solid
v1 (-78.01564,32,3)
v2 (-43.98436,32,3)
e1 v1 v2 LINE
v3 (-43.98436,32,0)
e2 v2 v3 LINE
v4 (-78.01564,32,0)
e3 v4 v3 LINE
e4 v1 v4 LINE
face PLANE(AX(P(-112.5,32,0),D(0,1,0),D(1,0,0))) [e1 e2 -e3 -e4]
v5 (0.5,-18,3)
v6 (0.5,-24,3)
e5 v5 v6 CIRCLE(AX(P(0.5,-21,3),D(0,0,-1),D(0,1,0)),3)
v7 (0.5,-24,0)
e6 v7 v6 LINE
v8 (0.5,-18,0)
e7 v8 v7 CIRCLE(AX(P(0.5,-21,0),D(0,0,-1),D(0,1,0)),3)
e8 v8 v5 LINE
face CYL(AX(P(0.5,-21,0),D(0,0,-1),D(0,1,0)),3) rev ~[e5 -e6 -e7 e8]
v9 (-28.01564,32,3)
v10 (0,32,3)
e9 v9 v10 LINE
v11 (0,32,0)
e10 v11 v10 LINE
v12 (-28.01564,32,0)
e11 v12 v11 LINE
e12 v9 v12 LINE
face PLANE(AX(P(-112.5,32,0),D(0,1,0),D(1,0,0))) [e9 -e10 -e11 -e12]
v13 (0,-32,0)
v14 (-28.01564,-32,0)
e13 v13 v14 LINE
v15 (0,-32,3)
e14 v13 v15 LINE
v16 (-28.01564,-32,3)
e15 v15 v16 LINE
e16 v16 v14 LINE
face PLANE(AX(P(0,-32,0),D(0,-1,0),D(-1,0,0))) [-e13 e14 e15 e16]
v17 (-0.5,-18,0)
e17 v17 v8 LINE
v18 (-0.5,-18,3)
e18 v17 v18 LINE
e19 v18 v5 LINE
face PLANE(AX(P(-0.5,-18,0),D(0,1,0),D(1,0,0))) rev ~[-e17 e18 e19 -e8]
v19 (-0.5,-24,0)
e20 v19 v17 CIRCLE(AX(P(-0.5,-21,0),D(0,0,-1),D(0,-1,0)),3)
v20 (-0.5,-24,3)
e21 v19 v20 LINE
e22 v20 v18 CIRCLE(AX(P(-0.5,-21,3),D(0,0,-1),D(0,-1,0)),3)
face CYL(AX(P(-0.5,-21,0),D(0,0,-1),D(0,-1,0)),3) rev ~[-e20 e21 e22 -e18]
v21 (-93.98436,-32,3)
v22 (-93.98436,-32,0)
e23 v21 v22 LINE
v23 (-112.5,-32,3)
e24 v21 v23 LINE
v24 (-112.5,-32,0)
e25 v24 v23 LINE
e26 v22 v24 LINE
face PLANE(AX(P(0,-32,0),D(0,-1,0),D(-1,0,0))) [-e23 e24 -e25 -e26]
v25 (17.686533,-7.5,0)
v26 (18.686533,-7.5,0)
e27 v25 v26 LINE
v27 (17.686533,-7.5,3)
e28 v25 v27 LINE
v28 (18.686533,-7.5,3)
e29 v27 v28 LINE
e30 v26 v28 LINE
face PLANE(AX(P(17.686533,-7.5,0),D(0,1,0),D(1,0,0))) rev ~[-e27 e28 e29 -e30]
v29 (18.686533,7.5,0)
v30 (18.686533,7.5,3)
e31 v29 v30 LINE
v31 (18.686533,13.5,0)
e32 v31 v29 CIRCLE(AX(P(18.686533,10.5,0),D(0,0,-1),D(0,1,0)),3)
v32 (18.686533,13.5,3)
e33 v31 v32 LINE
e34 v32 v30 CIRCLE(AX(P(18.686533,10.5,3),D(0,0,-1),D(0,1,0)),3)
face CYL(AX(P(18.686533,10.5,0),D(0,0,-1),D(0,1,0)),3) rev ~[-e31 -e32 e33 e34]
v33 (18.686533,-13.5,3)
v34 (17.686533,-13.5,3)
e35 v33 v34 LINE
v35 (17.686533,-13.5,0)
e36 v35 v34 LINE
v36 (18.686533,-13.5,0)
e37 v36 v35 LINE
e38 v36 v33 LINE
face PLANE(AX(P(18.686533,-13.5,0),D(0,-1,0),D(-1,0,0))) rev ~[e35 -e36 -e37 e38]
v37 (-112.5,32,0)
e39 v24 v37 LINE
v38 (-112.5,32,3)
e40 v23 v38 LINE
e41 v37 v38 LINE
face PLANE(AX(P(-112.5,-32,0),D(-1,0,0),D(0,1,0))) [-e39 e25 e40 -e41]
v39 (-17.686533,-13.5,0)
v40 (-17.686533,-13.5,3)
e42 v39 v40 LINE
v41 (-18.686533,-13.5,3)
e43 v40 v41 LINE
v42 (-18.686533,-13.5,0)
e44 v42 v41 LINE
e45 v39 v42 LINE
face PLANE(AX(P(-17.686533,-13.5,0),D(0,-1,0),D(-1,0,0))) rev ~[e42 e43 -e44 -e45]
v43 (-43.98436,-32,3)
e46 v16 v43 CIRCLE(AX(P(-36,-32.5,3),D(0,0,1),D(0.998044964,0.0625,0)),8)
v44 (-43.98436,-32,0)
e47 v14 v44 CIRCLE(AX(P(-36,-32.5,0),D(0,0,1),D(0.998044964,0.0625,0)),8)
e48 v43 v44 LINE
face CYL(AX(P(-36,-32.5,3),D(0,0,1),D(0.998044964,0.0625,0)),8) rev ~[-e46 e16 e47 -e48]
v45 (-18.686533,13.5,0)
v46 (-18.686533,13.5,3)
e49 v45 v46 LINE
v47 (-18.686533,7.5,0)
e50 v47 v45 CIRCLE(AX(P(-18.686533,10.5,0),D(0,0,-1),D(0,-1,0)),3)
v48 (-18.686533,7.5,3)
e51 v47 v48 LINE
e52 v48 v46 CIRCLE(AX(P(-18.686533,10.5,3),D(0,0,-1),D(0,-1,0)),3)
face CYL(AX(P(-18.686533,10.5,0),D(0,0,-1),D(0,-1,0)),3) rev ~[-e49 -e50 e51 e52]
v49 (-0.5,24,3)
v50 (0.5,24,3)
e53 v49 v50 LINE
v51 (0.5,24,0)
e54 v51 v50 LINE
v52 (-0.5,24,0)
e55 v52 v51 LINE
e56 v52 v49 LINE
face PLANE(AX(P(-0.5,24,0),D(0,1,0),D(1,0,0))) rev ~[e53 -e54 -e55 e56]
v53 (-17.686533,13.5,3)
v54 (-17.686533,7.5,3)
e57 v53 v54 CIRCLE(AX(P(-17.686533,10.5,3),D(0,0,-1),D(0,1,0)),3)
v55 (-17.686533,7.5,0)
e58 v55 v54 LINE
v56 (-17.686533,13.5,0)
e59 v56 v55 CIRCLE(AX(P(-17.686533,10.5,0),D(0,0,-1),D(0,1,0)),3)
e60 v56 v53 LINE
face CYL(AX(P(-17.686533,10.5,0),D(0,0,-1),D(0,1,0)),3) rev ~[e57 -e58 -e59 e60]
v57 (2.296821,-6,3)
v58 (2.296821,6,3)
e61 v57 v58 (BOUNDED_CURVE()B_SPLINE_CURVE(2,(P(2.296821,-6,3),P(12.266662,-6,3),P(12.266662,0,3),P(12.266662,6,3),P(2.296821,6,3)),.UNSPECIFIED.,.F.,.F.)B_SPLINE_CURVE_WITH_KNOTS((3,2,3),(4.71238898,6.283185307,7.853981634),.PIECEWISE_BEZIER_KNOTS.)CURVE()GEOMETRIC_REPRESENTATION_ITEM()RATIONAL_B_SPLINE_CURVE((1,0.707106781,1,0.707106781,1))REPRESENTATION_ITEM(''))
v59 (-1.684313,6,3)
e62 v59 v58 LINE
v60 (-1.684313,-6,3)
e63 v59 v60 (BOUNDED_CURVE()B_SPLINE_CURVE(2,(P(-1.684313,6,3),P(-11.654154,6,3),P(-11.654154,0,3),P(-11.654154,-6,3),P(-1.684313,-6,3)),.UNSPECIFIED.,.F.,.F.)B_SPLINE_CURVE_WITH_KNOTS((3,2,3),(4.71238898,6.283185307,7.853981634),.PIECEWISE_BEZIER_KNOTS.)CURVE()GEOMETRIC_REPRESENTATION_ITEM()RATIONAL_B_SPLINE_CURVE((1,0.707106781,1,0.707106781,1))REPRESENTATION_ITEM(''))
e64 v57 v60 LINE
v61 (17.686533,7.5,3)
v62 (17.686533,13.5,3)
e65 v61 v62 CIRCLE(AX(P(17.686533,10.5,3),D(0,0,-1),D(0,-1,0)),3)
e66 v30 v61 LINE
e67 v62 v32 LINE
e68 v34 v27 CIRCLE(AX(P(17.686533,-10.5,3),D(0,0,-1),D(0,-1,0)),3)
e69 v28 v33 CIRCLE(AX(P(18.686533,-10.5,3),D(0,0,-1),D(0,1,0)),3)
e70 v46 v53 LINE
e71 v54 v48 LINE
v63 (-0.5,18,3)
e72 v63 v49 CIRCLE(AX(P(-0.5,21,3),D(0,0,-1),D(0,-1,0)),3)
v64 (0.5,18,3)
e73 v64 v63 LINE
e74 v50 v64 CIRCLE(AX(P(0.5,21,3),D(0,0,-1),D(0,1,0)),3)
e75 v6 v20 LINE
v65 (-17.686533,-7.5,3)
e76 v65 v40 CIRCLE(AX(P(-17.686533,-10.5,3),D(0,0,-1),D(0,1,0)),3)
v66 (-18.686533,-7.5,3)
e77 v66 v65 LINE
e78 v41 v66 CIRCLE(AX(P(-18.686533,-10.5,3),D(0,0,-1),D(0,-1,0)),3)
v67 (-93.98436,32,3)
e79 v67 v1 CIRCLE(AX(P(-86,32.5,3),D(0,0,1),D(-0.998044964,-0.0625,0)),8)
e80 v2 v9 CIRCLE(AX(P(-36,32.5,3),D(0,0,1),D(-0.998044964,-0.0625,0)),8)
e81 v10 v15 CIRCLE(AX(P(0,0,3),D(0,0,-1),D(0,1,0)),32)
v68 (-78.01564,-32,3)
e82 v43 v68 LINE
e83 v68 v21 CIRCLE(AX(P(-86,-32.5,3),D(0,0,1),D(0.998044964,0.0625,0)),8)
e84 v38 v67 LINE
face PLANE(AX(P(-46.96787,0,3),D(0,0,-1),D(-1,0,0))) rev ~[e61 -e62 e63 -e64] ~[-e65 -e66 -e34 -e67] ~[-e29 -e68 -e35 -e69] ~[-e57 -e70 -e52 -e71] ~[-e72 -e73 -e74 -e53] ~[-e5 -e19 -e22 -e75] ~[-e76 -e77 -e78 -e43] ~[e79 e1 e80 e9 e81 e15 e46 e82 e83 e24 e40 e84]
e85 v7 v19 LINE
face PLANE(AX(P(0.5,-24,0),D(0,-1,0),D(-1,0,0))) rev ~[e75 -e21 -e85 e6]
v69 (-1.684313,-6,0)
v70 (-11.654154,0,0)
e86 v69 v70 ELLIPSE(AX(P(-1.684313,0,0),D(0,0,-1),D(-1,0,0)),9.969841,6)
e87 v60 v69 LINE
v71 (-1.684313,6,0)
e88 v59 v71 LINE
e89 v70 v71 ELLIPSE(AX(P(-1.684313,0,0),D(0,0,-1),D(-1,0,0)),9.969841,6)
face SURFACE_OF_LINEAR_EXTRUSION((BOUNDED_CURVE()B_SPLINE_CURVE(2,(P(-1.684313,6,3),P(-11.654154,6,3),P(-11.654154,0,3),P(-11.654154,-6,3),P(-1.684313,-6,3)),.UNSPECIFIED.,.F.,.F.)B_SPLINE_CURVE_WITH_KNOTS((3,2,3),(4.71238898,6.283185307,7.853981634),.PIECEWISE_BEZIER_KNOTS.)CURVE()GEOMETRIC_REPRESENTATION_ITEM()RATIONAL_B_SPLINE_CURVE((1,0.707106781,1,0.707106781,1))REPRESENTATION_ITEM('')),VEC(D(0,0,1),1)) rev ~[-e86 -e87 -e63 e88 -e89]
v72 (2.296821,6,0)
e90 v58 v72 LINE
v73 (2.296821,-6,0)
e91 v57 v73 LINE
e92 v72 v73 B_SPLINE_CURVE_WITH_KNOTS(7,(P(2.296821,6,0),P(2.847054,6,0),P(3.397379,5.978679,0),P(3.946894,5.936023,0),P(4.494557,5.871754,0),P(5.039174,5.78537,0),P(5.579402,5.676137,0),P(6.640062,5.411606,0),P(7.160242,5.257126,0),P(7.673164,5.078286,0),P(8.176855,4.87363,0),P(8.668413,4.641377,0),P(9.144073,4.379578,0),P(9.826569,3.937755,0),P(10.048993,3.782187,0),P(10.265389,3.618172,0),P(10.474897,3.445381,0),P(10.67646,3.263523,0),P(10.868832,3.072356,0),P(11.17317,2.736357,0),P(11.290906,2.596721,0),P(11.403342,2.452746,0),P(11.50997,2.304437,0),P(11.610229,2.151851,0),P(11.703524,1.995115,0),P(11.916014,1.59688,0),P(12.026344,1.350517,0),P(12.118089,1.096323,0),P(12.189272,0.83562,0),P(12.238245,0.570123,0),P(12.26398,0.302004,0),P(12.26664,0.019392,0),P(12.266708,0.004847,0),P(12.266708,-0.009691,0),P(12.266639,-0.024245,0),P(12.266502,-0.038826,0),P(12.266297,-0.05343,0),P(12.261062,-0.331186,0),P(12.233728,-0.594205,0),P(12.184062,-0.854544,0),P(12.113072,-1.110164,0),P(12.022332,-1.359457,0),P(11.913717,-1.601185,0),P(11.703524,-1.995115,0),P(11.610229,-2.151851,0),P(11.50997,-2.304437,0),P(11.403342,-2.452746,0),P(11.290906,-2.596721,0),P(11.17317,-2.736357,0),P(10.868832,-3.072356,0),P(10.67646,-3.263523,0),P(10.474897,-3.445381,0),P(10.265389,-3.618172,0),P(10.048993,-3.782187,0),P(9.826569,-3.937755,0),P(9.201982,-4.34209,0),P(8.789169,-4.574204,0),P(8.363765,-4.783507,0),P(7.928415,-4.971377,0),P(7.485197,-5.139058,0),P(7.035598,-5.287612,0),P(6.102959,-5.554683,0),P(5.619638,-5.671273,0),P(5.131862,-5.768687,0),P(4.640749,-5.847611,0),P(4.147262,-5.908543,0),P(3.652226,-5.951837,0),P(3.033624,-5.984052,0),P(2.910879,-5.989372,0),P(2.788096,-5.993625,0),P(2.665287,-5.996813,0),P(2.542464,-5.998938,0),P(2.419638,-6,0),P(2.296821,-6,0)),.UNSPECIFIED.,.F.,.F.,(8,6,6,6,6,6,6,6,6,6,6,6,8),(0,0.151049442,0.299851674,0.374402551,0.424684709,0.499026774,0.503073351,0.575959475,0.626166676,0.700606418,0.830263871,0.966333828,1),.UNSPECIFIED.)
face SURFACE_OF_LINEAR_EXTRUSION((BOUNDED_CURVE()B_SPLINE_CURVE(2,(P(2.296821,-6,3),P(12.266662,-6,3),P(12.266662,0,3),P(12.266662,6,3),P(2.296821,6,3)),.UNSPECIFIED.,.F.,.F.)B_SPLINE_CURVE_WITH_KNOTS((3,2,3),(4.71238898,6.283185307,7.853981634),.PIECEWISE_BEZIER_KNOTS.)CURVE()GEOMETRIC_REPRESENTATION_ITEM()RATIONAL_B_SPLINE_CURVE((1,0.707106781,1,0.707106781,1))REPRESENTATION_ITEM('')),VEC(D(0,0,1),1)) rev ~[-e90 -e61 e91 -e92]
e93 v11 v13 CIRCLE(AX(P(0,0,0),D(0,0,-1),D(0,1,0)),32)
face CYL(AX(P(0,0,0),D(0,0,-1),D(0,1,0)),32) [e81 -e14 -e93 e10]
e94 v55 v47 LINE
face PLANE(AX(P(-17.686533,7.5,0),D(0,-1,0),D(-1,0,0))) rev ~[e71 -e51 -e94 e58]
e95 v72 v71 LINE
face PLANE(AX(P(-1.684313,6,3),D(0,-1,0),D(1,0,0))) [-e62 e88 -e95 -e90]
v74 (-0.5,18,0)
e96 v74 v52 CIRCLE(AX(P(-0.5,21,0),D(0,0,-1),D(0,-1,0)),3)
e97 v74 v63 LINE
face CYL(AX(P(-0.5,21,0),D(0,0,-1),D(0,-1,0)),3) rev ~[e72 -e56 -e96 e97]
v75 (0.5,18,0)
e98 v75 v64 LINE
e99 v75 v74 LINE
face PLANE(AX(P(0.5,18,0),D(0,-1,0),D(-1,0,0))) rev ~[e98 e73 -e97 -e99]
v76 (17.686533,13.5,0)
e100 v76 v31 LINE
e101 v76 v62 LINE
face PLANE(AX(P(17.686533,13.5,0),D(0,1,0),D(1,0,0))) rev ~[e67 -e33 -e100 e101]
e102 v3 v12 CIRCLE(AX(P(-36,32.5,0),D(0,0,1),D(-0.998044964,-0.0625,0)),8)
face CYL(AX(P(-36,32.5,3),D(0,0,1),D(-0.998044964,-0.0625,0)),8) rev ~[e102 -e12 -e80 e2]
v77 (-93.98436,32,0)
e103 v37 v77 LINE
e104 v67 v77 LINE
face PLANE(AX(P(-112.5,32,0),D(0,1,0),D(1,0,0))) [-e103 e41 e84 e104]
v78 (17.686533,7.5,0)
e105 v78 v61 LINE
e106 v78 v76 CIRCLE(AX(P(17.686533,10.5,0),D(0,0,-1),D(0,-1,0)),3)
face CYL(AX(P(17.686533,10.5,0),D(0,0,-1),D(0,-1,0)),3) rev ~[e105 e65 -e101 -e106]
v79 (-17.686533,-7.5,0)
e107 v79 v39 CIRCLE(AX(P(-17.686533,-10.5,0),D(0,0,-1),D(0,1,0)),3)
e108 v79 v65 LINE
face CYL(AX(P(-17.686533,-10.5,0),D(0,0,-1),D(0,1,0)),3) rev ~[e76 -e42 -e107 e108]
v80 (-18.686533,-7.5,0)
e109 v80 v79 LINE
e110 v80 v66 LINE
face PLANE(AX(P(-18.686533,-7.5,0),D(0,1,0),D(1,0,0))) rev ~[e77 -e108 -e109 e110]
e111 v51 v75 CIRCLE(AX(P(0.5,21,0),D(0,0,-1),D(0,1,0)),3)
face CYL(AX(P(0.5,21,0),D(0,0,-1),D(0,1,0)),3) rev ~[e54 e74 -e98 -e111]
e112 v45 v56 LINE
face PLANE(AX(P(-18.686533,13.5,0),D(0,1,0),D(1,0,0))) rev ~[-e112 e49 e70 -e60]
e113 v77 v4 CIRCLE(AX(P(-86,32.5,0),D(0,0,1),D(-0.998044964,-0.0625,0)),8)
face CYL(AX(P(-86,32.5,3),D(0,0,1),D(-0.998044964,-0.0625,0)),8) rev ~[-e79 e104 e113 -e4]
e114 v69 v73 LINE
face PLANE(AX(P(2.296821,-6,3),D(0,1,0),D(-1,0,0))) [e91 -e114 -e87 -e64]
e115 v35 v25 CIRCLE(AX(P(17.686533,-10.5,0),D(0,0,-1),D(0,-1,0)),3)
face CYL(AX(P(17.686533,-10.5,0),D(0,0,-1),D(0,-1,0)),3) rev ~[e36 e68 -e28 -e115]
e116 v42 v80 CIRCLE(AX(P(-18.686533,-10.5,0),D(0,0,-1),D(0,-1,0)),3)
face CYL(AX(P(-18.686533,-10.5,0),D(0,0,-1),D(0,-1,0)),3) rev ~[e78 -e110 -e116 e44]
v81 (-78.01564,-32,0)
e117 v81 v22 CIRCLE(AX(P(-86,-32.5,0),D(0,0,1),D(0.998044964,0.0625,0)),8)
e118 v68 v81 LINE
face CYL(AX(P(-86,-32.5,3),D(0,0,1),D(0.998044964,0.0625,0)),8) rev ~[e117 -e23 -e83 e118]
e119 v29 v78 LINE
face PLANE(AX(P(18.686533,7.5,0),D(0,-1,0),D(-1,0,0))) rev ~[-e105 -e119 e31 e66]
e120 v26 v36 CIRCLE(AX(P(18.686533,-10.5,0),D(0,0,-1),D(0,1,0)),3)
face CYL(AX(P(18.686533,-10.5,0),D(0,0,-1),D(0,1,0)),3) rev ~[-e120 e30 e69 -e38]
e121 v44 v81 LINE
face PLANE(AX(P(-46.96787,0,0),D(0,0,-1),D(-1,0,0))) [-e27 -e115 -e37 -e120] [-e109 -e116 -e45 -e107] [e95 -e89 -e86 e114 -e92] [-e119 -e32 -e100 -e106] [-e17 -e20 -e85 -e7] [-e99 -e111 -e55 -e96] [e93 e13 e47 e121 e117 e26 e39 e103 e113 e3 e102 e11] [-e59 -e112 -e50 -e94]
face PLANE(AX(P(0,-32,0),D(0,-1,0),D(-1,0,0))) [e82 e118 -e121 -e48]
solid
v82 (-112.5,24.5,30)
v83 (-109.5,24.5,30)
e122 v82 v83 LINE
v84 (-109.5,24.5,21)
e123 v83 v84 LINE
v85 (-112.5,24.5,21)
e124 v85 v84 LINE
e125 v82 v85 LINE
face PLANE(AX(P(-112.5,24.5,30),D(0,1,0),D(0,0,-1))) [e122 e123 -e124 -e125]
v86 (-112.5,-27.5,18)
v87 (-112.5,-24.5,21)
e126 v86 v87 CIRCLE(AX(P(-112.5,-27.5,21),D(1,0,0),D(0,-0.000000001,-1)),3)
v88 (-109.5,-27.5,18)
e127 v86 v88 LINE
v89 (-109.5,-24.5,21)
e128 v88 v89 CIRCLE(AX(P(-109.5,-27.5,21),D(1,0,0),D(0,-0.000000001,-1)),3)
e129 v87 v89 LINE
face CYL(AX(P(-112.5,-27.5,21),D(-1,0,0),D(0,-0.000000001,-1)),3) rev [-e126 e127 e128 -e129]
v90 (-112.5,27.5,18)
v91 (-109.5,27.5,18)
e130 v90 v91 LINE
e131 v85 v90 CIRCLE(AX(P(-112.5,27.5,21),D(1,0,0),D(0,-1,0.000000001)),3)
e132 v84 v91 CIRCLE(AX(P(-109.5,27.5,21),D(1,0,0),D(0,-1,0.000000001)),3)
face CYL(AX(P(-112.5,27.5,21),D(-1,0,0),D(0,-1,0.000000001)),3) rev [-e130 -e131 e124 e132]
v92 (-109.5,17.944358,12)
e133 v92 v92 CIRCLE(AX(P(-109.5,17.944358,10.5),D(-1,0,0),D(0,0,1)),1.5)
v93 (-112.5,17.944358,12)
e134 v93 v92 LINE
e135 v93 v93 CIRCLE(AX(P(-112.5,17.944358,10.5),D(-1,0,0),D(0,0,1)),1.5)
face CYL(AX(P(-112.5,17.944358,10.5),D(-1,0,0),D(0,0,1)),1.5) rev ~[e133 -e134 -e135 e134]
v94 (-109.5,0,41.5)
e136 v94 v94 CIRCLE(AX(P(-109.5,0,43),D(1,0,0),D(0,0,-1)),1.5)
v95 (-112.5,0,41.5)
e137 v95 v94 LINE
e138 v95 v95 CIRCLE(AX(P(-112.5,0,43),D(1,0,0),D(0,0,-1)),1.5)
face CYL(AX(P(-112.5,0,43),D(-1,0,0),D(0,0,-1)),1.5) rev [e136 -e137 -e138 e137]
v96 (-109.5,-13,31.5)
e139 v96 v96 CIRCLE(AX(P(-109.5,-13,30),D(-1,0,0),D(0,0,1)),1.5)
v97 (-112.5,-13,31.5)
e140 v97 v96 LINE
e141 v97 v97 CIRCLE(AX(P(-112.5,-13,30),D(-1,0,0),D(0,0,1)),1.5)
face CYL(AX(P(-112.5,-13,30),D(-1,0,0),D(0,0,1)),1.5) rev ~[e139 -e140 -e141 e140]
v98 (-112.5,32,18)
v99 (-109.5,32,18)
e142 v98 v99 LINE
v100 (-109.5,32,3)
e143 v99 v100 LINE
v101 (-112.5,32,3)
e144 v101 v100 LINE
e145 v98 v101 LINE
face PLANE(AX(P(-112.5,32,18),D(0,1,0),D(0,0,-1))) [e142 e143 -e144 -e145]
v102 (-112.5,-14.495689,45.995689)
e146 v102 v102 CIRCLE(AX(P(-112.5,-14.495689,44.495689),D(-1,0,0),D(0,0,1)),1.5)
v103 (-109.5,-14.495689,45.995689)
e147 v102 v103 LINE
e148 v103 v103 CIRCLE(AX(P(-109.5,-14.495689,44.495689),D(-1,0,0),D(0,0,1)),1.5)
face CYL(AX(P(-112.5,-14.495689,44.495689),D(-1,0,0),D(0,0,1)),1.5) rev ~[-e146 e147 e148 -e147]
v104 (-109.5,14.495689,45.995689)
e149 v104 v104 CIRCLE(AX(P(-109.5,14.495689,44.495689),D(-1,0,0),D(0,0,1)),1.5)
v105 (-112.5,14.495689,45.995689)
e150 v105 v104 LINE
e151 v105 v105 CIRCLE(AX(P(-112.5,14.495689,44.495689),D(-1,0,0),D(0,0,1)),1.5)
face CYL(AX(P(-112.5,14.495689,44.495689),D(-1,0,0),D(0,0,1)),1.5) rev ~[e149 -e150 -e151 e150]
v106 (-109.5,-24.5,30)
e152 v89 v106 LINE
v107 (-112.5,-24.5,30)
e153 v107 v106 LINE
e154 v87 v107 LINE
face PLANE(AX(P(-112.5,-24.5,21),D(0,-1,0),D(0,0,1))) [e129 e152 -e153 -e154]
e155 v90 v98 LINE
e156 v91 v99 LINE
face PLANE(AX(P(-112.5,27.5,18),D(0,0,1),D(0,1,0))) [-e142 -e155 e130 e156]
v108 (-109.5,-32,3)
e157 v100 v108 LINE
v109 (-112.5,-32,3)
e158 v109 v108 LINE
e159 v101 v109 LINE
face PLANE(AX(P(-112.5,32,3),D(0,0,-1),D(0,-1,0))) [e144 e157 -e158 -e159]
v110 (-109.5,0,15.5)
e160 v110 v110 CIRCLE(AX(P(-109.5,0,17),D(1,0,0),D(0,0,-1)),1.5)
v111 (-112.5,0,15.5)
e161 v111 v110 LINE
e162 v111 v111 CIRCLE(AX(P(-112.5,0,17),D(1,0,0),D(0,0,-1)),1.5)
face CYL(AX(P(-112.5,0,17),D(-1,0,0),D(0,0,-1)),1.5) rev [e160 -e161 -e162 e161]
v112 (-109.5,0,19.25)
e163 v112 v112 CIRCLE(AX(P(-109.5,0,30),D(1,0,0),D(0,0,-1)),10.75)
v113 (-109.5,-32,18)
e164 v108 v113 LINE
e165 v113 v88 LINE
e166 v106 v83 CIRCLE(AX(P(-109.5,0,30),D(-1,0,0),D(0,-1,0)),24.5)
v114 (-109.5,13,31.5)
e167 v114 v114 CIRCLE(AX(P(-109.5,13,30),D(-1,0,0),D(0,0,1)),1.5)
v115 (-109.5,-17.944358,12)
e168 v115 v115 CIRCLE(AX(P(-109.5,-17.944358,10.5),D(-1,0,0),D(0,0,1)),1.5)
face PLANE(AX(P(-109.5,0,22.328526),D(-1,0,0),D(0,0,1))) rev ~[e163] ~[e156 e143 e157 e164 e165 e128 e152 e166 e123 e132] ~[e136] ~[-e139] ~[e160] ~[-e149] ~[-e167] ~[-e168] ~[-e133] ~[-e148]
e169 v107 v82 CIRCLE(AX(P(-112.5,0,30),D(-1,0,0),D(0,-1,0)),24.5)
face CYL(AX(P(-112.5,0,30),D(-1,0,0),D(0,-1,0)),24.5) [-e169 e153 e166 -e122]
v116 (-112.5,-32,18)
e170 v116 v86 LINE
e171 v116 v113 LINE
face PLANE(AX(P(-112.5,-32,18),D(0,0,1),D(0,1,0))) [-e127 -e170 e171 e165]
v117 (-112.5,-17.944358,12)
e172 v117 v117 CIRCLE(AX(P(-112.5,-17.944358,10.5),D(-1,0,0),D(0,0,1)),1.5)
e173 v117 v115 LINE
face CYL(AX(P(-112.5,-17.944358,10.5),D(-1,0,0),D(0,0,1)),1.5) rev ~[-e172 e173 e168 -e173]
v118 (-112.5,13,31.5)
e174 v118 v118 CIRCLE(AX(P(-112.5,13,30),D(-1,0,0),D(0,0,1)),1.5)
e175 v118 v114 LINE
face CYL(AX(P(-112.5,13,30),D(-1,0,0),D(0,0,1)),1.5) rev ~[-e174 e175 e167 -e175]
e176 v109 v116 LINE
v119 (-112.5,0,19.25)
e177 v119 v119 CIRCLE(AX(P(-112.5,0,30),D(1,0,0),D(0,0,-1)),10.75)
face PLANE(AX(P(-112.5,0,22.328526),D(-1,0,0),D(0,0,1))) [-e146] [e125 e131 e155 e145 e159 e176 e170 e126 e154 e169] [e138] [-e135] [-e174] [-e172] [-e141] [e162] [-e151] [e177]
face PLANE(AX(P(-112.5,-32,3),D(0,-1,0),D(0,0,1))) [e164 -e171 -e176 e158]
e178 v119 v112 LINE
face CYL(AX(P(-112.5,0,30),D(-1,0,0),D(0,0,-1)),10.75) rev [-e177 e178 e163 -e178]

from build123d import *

# Parameters (mm, degrees)
BOSS_EXTRUDE1_DEPTH = 3
SKETCH2_R           = 1.5
BOSS_EXTRUDE2_DEPTH = 3
SKETCH3_R           = 6
CUT_EXTRUDE1_DEPTH  = 150.495916109
CUT_EXTRUDE2_DEPTH  = 128.79866979
CUT_EXTRUDE4_DEPTH  = 3


with BuildPart() as part:
    # Sketch1 → Boss-Extrude1 (new body)
    with BuildSketch(Plane.XY):
        with BuildLine():
            Line((-112.5, 32), (0, 32))
            ThreePointArc((0, 32), (32, 0), (0, -32))
            Line((0, -32), (-112.5, -32))
            Line((-112.5, -32), (-112.5, 32))
        make_face()
        with BuildLine():
            Line((17.686533479, 13.5), (18.686533479, 13.5))
            ThreePointArc((18.686533479, 13.5), (21.686533479, 10.5), (18.686533479, 7.5))
            Line((18.686533479, 7.5), (17.686533479, 7.5))
            ThreePointArc((17.686533479, 7.5), (14.686533479, 10.5), (17.686533479, 13.5))
        make_face(mode=Mode.SUBTRACT)
        with BuildLine():
            Line((17.686533479, -7.5), (18.686533479, -7.5))
            ThreePointArc((18.686533479, -7.5), (21.686533479, -10.5), (18.686533479, -13.5))
            Line((18.686533479, -13.5), (17.686533479, -13.5))
            ThreePointArc((17.686533479, -13.5), (14.686533479, -10.5), (17.686533479, -7.5))
        make_face(mode=Mode.SUBTRACT)
        with BuildLine():
            Line((-0.5, -18), (0.5, -18))
            ThreePointArc((0.5, -18), (3.5, -21), (0.5, -24))
            Line((0.5, -24), (-0.5, -24))
            ThreePointArc((-0.5, -24), (-3.5, -21), (-0.5, -18))
        make_face(mode=Mode.SUBTRACT)
        with BuildLine():
            Line((-18.686533479, -7.5), (-17.686533479, -7.5))
            ThreePointArc((-17.686533479, -7.5), (-14.686533479, -10.5), (-17.686533479, -13.5))
            Line((-17.686533479, -13.5), (-18.686533479, -13.5))
            ThreePointArc((-18.686533479, -13.5), (-21.686533479, -10.5), (-18.686533479, -7.5))
        make_face(mode=Mode.SUBTRACT)
        with BuildLine():
            Line((-17.686533479, 7.5), (-18.686533479, 7.5))
            ThreePointArc((-18.686533479, 7.5), (-21.686533479, 10.5), (-18.686533479, 13.5))
            Line((-18.686533479, 13.5), (-17.686533479, 13.5))
            ThreePointArc((-17.686533479, 13.5), (-14.686533479, 10.5), (-17.686533479, 7.5))
        make_face(mode=Mode.SUBTRACT)
        with BuildLine():
            Line((0.5, 18), (-0.5, 18))
            ThreePointArc((-0.5, 18), (-3.5, 21), (-0.5, 24))
            Line((-0.5, 24), (0.5, 24))
            ThreePointArc((0.5, 24), (3.5, 21), (0.5, 18))
        make_face(mode=Mode.SUBTRACT)
    extrude(amount=BOSS_EXTRUDE1_DEPTH)

    # Sketch3 → Cut-Extrude1 (cut, through all)
    with BuildSketch(Plane(origin=(-68.399252687, 0, -51.542533886), x_dir=(0, 1, 0), z_dir=(0.798635510047294, 0, 0.6018150231520466))):
        with Locations(Location((0, 1.0136449, 0), (0, 0, 90))):
            Circle(SKETCH3_R)
    extrude(amount=CUT_EXTRUDE1_DEPTH, mode=Mode.SUBTRACT)

    # Sketch4 → Cut-Extrude2 (cut, through all)
    with BuildSketch(Plane.XY.offset(3)):
        with BuildLine():
            Line((2.296821411, -6), (-1.684313054, -6))
            add(Edge.make_bspline(
                [(-1.684313054, 6), (-11.654153901, 6), (-11.654153901, 0), (-11.654153901, -6), (-1.684313054, -6)],
                knots=[4.71238898, 4.71238898, 4.71238898, 6.283185307, 6.283185307, 7.853981634, 7.853981634, 7.853981634], degree=2, weights=[1, 0.707106781, 1, 0.707106781, 1]))
            Line((-1.684313054, 6), (2.296821411, 6))
            add(Edge.make_bspline(
                [(2.296821411, -6), (12.266662258, -6), (12.266662258, 0), (12.266662258, 6), (2.296821411, 6)],
                knots=[4.71238898, 4.71238898, 4.71238898, 6.283185307, 6.283185307, 7.853981634, 7.853981634, 7.853981634], degree=2, weights=[1, 0.707106781, 1, 0.707106781, 1]))
        make_face()
    extrude(amount=-CUT_EXTRUDE2_DEPTH, mode=Mode.SUBTRACT)

    # Sketch5 → Cut-Extrude4 (cut)
    with BuildSketch(Plane.XY.offset(3)):
        with BuildLine():
            ThreePointArc((-86, 40.5), (-80.522774425, 38.330951895), (-78.015640289, 33))
            Line((-78.015640289, 33), (-43.984359711, 33))
            ThreePointArc((-43.984359711, 33), (-41.477225575, 38.330951895), (-36, 40.5))
            Line((-36, 40.5), (-86, 40.5))
        make_face()
        with BuildLine():
            ThreePointArc((-78, 32.5), (-78.003911028, 32.750122279), (-78.015640289, 33))
            ThreePointArc((-78.015640289, 33), (-80.522774425, 38.330951895), (-86, 40.5))
            ThreePointArc((-86, 40.5), (-91.830951895, 37.977225575), (-93.984359711, 32))
            Line((-93.984359711, 32), (-78.015640289, 32))
            ThreePointArc((-78.015640289, 32), (-78.003911028, 32.249877721), (-78, 32.5))
        make_face()
        with BuildLine():
            ThreePointArc((-93.984359711, 32), (-86, 24.5), (-78.015640289, 32))
            Line((-78.015640289, 32), (-93.984359711, 32))
        make_face()
        with BuildLine():
            ThreePointArc((-36, 40.5), (-41.477225575, 38.330951895), (-43.984359711, 33))
            ThreePointArc((-43.984359711, 33), (-44, 32.5), (-43.984359711, 32))
            Line((-43.984359711, 32), (-28.015640289, 32))
            ThreePointArc((-28.015640289, 32), (-28.003911028, 32.249877721), (-28, 32.5))
            ThreePointArc((-28, 32.5), (-30.343145751, 38.156854249), (-36, 40.5))
        make_face()
        with BuildLine():
            Line((-28.015640289, 32), (-43.984359711, 32))
            ThreePointArc((-43.984359711, 32), (-36, 24.5), (-28.015640289, 32))
        make_face()
        with BuildLine():
            ThreePointArc((-86, -40.5), (-80.522774425, -38.330951895), (-78.015640289, -33))
            ThreePointArc((-78.015640289, -33), (-78.003911028, -32.750122279), (-78, -32.5))
            ThreePointArc((-78, -32.5), (-78.003911028, -32.249877721), (-78.015640289, -32))
            Line((-78.015640289, -32), (-93.984359711, -32))
            ThreePointArc((-93.984359711, -32), (-91.830951895, -37.977225575), (-86, -40.5))
        make_face()
        with BuildLine():
            ThreePointArc((-78.015640289, -32), (-86, -24.5), (-93.984359711, -32))
            Line((-93.984359711, -32), (-78.015640289, -32))
        make_face()
        with BuildLine():
            Line((-43.984359711, -33), (-78.015640289, -33))
            ThreePointArc((-78.015640289, -33), (-80.522774425, -38.330951895), (-86, -40.5))
            Line((-86, -40.5), (-36, -40.5))
            ThreePointArc((-36, -40.5), (-41.477225575, -38.330951895), (-43.984359711, -33))
        make_face()
        with BuildLine():
            ThreePointArc((-43.984359711, -32), (-44, -32.5), (-43.984359711, -33))
            ThreePointArc((-43.984359711, -33), (-41.477225575, -38.330951895), (-36, -40.5))
            ThreePointArc((-36, -40.5), (-30.343145751, -38.156854249), (-28, -32.5))
            ThreePointArc((-28, -32.5), (-28.003911028, -32.249877721), (-28.015640289, -32))
            Line((-28.015640289, -32), (-43.984359711, -32))
        make_face()
        with BuildLine():
            ThreePointArc((-28.015640289, -32), (-36, -24.5), (-43.984359711, -32))
            Line((-43.984359711, -32), (-28.015640289, -32))
        make_face()
    extrude(amount=-CUT_EXTRUDE4_DEPTH, mode=Mode.SUBTRACT)


with BuildPart() as body_2:
    # Sketch2 → Boss-Extrude2 (new body)
    # profile 1 of 2: a face of its own
    with BuildSketch(Plane.ZY.offset(112.5)):
        with BuildLine():
            Line((3, 0), (3, -32))
            Line((3, -32), (18, -32))
            Line((18, -32), (18, -27.5))
            ThreePointArc((18, -27.5), (18.878679656, -25.378679656), (21, -24.5))
            Line((21, -24.5), (30, -24.5))
            ThreePointArc((30, -24.5), (54.5, 0), (30, 24.5))
            Line((30, 24.5), (21, 24.5))
            ThreePointArc((21, 24.5), (18.878679656, 25.378679656), (18, 27.5))
            Line((18, 27.5), (18, 32))
            Line((18, 32), (3, 32))
            Line((3, 32), (3, 0))
        make_face()
        with Locations((10.5, -17.944358445)):
            Circle(SKETCH2_R, mode=Mode.SUBTRACT)
        with BuildLine():
            ThreePointArc((18.5, 0), (17, -1.5), (15.5, 0))
            ThreePointArc((15.5, 0), (17, 1.5), (18.5, 0))
        make_face(mode=Mode.SUBTRACT)
        with Locations((30, -13)):
            Circle(SKETCH2_R, mode=Mode.SUBTRACT)
        with Locations((44.495689014, -14.495689014)):
            Circle(SKETCH2_R, mode=Mode.SUBTRACT)
        with Locations((10.5, 17.944358445)):
            Circle(SKETCH2_R, mode=Mode.SUBTRACT)
        with BuildLine():
            ThreePointArc((40.75, 0), (30, -10.75), (19.25, 0))
            ThreePointArc((19.25, 0), (30, 10.75), (40.75, 0))
        make_face(mode=Mode.SUBTRACT)
        with Locations((30, 13)):
            Circle(SKETCH2_R, mode=Mode.SUBTRACT)
        with BuildLine():
            ThreePointArc((44.5, 0), (43, -1.5), (41.5, 0))
            ThreePointArc((41.5, 0), (43, 1.5), (44.5, 0))
        make_face(mode=Mode.SUBTRACT)
        with Locations((44.495689014, 14.495689014)):
            Circle(SKETCH2_R, mode=Mode.SUBTRACT)
    # profile 2 of 2: a face of its own
    with BuildSketch(Plane.ZY.offset(112.5)):
        with BuildLine():
            Line((3, 0), (3, -32))
            Line((3, -32), (18, -32))
            Line((18, -32), (18, -27.5))
            ThreePointArc((18, -27.5), (18.878679656, -25.378679656), (21, -24.5))
            Line((21, -24.5), (30, -24.5))
            ThreePointArc((30, -24.5), (54.5, 0), (30, 24.5))
            Line((30, 24.5), (21, 24.5))
            ThreePointArc((21, 24.5), (18.878679656, 25.378679656), (18, 27.5))
            Line((18, 27.5), (18, 32))
            Line((18, 32), (3, 32))
            Line((3, 32), (3, 0))
        make_face()
        with Locations((10.5, -17.944358445)):
            Circle(SKETCH2_R, mode=Mode.SUBTRACT)
        with BuildLine():
            ThreePointArc((18.5, 0), (17, -1.5), (15.5, 0))
            ThreePointArc((15.5, 0), (17, 1.5), (18.5, 0))
        make_face(mode=Mode.SUBTRACT)
        with Locations((30, -13)):
            Circle(SKETCH2_R, mode=Mode.SUBTRACT)
        with Locations((44.495689014, -14.495689014)):
            Circle(SKETCH2_R, mode=Mode.SUBTRACT)
        with Locations((10.5, 17.944358445)):
            Circle(SKETCH2_R, mode=Mode.SUBTRACT)
        with BuildLine():
            ThreePointArc((40.75, 0), (30, -10.75), (19.25, 0))
            ThreePointArc((19.25, 0), (30, 10.75), (40.75, 0))
        make_face(mode=Mode.SUBTRACT)
        with Locations((30, 13)):
            Circle(SKETCH2_R, mode=Mode.SUBTRACT)
        with BuildLine():
            ThreePointArc((44.5, 0), (43, -1.5), (41.5, 0))
            ThreePointArc((41.5, 0), (43, 1.5), (44.5, 0))
        make_face(mode=Mode.SUBTRACT)
        with Locations((44.495689014, 14.495689014)):
            Circle(SKETCH2_R, mode=Mode.SUBTRACT)
    extrude(amount=-BOSS_EXTRUDE2_DEPTH)


solid = Compound([part.part, body_2.part])
